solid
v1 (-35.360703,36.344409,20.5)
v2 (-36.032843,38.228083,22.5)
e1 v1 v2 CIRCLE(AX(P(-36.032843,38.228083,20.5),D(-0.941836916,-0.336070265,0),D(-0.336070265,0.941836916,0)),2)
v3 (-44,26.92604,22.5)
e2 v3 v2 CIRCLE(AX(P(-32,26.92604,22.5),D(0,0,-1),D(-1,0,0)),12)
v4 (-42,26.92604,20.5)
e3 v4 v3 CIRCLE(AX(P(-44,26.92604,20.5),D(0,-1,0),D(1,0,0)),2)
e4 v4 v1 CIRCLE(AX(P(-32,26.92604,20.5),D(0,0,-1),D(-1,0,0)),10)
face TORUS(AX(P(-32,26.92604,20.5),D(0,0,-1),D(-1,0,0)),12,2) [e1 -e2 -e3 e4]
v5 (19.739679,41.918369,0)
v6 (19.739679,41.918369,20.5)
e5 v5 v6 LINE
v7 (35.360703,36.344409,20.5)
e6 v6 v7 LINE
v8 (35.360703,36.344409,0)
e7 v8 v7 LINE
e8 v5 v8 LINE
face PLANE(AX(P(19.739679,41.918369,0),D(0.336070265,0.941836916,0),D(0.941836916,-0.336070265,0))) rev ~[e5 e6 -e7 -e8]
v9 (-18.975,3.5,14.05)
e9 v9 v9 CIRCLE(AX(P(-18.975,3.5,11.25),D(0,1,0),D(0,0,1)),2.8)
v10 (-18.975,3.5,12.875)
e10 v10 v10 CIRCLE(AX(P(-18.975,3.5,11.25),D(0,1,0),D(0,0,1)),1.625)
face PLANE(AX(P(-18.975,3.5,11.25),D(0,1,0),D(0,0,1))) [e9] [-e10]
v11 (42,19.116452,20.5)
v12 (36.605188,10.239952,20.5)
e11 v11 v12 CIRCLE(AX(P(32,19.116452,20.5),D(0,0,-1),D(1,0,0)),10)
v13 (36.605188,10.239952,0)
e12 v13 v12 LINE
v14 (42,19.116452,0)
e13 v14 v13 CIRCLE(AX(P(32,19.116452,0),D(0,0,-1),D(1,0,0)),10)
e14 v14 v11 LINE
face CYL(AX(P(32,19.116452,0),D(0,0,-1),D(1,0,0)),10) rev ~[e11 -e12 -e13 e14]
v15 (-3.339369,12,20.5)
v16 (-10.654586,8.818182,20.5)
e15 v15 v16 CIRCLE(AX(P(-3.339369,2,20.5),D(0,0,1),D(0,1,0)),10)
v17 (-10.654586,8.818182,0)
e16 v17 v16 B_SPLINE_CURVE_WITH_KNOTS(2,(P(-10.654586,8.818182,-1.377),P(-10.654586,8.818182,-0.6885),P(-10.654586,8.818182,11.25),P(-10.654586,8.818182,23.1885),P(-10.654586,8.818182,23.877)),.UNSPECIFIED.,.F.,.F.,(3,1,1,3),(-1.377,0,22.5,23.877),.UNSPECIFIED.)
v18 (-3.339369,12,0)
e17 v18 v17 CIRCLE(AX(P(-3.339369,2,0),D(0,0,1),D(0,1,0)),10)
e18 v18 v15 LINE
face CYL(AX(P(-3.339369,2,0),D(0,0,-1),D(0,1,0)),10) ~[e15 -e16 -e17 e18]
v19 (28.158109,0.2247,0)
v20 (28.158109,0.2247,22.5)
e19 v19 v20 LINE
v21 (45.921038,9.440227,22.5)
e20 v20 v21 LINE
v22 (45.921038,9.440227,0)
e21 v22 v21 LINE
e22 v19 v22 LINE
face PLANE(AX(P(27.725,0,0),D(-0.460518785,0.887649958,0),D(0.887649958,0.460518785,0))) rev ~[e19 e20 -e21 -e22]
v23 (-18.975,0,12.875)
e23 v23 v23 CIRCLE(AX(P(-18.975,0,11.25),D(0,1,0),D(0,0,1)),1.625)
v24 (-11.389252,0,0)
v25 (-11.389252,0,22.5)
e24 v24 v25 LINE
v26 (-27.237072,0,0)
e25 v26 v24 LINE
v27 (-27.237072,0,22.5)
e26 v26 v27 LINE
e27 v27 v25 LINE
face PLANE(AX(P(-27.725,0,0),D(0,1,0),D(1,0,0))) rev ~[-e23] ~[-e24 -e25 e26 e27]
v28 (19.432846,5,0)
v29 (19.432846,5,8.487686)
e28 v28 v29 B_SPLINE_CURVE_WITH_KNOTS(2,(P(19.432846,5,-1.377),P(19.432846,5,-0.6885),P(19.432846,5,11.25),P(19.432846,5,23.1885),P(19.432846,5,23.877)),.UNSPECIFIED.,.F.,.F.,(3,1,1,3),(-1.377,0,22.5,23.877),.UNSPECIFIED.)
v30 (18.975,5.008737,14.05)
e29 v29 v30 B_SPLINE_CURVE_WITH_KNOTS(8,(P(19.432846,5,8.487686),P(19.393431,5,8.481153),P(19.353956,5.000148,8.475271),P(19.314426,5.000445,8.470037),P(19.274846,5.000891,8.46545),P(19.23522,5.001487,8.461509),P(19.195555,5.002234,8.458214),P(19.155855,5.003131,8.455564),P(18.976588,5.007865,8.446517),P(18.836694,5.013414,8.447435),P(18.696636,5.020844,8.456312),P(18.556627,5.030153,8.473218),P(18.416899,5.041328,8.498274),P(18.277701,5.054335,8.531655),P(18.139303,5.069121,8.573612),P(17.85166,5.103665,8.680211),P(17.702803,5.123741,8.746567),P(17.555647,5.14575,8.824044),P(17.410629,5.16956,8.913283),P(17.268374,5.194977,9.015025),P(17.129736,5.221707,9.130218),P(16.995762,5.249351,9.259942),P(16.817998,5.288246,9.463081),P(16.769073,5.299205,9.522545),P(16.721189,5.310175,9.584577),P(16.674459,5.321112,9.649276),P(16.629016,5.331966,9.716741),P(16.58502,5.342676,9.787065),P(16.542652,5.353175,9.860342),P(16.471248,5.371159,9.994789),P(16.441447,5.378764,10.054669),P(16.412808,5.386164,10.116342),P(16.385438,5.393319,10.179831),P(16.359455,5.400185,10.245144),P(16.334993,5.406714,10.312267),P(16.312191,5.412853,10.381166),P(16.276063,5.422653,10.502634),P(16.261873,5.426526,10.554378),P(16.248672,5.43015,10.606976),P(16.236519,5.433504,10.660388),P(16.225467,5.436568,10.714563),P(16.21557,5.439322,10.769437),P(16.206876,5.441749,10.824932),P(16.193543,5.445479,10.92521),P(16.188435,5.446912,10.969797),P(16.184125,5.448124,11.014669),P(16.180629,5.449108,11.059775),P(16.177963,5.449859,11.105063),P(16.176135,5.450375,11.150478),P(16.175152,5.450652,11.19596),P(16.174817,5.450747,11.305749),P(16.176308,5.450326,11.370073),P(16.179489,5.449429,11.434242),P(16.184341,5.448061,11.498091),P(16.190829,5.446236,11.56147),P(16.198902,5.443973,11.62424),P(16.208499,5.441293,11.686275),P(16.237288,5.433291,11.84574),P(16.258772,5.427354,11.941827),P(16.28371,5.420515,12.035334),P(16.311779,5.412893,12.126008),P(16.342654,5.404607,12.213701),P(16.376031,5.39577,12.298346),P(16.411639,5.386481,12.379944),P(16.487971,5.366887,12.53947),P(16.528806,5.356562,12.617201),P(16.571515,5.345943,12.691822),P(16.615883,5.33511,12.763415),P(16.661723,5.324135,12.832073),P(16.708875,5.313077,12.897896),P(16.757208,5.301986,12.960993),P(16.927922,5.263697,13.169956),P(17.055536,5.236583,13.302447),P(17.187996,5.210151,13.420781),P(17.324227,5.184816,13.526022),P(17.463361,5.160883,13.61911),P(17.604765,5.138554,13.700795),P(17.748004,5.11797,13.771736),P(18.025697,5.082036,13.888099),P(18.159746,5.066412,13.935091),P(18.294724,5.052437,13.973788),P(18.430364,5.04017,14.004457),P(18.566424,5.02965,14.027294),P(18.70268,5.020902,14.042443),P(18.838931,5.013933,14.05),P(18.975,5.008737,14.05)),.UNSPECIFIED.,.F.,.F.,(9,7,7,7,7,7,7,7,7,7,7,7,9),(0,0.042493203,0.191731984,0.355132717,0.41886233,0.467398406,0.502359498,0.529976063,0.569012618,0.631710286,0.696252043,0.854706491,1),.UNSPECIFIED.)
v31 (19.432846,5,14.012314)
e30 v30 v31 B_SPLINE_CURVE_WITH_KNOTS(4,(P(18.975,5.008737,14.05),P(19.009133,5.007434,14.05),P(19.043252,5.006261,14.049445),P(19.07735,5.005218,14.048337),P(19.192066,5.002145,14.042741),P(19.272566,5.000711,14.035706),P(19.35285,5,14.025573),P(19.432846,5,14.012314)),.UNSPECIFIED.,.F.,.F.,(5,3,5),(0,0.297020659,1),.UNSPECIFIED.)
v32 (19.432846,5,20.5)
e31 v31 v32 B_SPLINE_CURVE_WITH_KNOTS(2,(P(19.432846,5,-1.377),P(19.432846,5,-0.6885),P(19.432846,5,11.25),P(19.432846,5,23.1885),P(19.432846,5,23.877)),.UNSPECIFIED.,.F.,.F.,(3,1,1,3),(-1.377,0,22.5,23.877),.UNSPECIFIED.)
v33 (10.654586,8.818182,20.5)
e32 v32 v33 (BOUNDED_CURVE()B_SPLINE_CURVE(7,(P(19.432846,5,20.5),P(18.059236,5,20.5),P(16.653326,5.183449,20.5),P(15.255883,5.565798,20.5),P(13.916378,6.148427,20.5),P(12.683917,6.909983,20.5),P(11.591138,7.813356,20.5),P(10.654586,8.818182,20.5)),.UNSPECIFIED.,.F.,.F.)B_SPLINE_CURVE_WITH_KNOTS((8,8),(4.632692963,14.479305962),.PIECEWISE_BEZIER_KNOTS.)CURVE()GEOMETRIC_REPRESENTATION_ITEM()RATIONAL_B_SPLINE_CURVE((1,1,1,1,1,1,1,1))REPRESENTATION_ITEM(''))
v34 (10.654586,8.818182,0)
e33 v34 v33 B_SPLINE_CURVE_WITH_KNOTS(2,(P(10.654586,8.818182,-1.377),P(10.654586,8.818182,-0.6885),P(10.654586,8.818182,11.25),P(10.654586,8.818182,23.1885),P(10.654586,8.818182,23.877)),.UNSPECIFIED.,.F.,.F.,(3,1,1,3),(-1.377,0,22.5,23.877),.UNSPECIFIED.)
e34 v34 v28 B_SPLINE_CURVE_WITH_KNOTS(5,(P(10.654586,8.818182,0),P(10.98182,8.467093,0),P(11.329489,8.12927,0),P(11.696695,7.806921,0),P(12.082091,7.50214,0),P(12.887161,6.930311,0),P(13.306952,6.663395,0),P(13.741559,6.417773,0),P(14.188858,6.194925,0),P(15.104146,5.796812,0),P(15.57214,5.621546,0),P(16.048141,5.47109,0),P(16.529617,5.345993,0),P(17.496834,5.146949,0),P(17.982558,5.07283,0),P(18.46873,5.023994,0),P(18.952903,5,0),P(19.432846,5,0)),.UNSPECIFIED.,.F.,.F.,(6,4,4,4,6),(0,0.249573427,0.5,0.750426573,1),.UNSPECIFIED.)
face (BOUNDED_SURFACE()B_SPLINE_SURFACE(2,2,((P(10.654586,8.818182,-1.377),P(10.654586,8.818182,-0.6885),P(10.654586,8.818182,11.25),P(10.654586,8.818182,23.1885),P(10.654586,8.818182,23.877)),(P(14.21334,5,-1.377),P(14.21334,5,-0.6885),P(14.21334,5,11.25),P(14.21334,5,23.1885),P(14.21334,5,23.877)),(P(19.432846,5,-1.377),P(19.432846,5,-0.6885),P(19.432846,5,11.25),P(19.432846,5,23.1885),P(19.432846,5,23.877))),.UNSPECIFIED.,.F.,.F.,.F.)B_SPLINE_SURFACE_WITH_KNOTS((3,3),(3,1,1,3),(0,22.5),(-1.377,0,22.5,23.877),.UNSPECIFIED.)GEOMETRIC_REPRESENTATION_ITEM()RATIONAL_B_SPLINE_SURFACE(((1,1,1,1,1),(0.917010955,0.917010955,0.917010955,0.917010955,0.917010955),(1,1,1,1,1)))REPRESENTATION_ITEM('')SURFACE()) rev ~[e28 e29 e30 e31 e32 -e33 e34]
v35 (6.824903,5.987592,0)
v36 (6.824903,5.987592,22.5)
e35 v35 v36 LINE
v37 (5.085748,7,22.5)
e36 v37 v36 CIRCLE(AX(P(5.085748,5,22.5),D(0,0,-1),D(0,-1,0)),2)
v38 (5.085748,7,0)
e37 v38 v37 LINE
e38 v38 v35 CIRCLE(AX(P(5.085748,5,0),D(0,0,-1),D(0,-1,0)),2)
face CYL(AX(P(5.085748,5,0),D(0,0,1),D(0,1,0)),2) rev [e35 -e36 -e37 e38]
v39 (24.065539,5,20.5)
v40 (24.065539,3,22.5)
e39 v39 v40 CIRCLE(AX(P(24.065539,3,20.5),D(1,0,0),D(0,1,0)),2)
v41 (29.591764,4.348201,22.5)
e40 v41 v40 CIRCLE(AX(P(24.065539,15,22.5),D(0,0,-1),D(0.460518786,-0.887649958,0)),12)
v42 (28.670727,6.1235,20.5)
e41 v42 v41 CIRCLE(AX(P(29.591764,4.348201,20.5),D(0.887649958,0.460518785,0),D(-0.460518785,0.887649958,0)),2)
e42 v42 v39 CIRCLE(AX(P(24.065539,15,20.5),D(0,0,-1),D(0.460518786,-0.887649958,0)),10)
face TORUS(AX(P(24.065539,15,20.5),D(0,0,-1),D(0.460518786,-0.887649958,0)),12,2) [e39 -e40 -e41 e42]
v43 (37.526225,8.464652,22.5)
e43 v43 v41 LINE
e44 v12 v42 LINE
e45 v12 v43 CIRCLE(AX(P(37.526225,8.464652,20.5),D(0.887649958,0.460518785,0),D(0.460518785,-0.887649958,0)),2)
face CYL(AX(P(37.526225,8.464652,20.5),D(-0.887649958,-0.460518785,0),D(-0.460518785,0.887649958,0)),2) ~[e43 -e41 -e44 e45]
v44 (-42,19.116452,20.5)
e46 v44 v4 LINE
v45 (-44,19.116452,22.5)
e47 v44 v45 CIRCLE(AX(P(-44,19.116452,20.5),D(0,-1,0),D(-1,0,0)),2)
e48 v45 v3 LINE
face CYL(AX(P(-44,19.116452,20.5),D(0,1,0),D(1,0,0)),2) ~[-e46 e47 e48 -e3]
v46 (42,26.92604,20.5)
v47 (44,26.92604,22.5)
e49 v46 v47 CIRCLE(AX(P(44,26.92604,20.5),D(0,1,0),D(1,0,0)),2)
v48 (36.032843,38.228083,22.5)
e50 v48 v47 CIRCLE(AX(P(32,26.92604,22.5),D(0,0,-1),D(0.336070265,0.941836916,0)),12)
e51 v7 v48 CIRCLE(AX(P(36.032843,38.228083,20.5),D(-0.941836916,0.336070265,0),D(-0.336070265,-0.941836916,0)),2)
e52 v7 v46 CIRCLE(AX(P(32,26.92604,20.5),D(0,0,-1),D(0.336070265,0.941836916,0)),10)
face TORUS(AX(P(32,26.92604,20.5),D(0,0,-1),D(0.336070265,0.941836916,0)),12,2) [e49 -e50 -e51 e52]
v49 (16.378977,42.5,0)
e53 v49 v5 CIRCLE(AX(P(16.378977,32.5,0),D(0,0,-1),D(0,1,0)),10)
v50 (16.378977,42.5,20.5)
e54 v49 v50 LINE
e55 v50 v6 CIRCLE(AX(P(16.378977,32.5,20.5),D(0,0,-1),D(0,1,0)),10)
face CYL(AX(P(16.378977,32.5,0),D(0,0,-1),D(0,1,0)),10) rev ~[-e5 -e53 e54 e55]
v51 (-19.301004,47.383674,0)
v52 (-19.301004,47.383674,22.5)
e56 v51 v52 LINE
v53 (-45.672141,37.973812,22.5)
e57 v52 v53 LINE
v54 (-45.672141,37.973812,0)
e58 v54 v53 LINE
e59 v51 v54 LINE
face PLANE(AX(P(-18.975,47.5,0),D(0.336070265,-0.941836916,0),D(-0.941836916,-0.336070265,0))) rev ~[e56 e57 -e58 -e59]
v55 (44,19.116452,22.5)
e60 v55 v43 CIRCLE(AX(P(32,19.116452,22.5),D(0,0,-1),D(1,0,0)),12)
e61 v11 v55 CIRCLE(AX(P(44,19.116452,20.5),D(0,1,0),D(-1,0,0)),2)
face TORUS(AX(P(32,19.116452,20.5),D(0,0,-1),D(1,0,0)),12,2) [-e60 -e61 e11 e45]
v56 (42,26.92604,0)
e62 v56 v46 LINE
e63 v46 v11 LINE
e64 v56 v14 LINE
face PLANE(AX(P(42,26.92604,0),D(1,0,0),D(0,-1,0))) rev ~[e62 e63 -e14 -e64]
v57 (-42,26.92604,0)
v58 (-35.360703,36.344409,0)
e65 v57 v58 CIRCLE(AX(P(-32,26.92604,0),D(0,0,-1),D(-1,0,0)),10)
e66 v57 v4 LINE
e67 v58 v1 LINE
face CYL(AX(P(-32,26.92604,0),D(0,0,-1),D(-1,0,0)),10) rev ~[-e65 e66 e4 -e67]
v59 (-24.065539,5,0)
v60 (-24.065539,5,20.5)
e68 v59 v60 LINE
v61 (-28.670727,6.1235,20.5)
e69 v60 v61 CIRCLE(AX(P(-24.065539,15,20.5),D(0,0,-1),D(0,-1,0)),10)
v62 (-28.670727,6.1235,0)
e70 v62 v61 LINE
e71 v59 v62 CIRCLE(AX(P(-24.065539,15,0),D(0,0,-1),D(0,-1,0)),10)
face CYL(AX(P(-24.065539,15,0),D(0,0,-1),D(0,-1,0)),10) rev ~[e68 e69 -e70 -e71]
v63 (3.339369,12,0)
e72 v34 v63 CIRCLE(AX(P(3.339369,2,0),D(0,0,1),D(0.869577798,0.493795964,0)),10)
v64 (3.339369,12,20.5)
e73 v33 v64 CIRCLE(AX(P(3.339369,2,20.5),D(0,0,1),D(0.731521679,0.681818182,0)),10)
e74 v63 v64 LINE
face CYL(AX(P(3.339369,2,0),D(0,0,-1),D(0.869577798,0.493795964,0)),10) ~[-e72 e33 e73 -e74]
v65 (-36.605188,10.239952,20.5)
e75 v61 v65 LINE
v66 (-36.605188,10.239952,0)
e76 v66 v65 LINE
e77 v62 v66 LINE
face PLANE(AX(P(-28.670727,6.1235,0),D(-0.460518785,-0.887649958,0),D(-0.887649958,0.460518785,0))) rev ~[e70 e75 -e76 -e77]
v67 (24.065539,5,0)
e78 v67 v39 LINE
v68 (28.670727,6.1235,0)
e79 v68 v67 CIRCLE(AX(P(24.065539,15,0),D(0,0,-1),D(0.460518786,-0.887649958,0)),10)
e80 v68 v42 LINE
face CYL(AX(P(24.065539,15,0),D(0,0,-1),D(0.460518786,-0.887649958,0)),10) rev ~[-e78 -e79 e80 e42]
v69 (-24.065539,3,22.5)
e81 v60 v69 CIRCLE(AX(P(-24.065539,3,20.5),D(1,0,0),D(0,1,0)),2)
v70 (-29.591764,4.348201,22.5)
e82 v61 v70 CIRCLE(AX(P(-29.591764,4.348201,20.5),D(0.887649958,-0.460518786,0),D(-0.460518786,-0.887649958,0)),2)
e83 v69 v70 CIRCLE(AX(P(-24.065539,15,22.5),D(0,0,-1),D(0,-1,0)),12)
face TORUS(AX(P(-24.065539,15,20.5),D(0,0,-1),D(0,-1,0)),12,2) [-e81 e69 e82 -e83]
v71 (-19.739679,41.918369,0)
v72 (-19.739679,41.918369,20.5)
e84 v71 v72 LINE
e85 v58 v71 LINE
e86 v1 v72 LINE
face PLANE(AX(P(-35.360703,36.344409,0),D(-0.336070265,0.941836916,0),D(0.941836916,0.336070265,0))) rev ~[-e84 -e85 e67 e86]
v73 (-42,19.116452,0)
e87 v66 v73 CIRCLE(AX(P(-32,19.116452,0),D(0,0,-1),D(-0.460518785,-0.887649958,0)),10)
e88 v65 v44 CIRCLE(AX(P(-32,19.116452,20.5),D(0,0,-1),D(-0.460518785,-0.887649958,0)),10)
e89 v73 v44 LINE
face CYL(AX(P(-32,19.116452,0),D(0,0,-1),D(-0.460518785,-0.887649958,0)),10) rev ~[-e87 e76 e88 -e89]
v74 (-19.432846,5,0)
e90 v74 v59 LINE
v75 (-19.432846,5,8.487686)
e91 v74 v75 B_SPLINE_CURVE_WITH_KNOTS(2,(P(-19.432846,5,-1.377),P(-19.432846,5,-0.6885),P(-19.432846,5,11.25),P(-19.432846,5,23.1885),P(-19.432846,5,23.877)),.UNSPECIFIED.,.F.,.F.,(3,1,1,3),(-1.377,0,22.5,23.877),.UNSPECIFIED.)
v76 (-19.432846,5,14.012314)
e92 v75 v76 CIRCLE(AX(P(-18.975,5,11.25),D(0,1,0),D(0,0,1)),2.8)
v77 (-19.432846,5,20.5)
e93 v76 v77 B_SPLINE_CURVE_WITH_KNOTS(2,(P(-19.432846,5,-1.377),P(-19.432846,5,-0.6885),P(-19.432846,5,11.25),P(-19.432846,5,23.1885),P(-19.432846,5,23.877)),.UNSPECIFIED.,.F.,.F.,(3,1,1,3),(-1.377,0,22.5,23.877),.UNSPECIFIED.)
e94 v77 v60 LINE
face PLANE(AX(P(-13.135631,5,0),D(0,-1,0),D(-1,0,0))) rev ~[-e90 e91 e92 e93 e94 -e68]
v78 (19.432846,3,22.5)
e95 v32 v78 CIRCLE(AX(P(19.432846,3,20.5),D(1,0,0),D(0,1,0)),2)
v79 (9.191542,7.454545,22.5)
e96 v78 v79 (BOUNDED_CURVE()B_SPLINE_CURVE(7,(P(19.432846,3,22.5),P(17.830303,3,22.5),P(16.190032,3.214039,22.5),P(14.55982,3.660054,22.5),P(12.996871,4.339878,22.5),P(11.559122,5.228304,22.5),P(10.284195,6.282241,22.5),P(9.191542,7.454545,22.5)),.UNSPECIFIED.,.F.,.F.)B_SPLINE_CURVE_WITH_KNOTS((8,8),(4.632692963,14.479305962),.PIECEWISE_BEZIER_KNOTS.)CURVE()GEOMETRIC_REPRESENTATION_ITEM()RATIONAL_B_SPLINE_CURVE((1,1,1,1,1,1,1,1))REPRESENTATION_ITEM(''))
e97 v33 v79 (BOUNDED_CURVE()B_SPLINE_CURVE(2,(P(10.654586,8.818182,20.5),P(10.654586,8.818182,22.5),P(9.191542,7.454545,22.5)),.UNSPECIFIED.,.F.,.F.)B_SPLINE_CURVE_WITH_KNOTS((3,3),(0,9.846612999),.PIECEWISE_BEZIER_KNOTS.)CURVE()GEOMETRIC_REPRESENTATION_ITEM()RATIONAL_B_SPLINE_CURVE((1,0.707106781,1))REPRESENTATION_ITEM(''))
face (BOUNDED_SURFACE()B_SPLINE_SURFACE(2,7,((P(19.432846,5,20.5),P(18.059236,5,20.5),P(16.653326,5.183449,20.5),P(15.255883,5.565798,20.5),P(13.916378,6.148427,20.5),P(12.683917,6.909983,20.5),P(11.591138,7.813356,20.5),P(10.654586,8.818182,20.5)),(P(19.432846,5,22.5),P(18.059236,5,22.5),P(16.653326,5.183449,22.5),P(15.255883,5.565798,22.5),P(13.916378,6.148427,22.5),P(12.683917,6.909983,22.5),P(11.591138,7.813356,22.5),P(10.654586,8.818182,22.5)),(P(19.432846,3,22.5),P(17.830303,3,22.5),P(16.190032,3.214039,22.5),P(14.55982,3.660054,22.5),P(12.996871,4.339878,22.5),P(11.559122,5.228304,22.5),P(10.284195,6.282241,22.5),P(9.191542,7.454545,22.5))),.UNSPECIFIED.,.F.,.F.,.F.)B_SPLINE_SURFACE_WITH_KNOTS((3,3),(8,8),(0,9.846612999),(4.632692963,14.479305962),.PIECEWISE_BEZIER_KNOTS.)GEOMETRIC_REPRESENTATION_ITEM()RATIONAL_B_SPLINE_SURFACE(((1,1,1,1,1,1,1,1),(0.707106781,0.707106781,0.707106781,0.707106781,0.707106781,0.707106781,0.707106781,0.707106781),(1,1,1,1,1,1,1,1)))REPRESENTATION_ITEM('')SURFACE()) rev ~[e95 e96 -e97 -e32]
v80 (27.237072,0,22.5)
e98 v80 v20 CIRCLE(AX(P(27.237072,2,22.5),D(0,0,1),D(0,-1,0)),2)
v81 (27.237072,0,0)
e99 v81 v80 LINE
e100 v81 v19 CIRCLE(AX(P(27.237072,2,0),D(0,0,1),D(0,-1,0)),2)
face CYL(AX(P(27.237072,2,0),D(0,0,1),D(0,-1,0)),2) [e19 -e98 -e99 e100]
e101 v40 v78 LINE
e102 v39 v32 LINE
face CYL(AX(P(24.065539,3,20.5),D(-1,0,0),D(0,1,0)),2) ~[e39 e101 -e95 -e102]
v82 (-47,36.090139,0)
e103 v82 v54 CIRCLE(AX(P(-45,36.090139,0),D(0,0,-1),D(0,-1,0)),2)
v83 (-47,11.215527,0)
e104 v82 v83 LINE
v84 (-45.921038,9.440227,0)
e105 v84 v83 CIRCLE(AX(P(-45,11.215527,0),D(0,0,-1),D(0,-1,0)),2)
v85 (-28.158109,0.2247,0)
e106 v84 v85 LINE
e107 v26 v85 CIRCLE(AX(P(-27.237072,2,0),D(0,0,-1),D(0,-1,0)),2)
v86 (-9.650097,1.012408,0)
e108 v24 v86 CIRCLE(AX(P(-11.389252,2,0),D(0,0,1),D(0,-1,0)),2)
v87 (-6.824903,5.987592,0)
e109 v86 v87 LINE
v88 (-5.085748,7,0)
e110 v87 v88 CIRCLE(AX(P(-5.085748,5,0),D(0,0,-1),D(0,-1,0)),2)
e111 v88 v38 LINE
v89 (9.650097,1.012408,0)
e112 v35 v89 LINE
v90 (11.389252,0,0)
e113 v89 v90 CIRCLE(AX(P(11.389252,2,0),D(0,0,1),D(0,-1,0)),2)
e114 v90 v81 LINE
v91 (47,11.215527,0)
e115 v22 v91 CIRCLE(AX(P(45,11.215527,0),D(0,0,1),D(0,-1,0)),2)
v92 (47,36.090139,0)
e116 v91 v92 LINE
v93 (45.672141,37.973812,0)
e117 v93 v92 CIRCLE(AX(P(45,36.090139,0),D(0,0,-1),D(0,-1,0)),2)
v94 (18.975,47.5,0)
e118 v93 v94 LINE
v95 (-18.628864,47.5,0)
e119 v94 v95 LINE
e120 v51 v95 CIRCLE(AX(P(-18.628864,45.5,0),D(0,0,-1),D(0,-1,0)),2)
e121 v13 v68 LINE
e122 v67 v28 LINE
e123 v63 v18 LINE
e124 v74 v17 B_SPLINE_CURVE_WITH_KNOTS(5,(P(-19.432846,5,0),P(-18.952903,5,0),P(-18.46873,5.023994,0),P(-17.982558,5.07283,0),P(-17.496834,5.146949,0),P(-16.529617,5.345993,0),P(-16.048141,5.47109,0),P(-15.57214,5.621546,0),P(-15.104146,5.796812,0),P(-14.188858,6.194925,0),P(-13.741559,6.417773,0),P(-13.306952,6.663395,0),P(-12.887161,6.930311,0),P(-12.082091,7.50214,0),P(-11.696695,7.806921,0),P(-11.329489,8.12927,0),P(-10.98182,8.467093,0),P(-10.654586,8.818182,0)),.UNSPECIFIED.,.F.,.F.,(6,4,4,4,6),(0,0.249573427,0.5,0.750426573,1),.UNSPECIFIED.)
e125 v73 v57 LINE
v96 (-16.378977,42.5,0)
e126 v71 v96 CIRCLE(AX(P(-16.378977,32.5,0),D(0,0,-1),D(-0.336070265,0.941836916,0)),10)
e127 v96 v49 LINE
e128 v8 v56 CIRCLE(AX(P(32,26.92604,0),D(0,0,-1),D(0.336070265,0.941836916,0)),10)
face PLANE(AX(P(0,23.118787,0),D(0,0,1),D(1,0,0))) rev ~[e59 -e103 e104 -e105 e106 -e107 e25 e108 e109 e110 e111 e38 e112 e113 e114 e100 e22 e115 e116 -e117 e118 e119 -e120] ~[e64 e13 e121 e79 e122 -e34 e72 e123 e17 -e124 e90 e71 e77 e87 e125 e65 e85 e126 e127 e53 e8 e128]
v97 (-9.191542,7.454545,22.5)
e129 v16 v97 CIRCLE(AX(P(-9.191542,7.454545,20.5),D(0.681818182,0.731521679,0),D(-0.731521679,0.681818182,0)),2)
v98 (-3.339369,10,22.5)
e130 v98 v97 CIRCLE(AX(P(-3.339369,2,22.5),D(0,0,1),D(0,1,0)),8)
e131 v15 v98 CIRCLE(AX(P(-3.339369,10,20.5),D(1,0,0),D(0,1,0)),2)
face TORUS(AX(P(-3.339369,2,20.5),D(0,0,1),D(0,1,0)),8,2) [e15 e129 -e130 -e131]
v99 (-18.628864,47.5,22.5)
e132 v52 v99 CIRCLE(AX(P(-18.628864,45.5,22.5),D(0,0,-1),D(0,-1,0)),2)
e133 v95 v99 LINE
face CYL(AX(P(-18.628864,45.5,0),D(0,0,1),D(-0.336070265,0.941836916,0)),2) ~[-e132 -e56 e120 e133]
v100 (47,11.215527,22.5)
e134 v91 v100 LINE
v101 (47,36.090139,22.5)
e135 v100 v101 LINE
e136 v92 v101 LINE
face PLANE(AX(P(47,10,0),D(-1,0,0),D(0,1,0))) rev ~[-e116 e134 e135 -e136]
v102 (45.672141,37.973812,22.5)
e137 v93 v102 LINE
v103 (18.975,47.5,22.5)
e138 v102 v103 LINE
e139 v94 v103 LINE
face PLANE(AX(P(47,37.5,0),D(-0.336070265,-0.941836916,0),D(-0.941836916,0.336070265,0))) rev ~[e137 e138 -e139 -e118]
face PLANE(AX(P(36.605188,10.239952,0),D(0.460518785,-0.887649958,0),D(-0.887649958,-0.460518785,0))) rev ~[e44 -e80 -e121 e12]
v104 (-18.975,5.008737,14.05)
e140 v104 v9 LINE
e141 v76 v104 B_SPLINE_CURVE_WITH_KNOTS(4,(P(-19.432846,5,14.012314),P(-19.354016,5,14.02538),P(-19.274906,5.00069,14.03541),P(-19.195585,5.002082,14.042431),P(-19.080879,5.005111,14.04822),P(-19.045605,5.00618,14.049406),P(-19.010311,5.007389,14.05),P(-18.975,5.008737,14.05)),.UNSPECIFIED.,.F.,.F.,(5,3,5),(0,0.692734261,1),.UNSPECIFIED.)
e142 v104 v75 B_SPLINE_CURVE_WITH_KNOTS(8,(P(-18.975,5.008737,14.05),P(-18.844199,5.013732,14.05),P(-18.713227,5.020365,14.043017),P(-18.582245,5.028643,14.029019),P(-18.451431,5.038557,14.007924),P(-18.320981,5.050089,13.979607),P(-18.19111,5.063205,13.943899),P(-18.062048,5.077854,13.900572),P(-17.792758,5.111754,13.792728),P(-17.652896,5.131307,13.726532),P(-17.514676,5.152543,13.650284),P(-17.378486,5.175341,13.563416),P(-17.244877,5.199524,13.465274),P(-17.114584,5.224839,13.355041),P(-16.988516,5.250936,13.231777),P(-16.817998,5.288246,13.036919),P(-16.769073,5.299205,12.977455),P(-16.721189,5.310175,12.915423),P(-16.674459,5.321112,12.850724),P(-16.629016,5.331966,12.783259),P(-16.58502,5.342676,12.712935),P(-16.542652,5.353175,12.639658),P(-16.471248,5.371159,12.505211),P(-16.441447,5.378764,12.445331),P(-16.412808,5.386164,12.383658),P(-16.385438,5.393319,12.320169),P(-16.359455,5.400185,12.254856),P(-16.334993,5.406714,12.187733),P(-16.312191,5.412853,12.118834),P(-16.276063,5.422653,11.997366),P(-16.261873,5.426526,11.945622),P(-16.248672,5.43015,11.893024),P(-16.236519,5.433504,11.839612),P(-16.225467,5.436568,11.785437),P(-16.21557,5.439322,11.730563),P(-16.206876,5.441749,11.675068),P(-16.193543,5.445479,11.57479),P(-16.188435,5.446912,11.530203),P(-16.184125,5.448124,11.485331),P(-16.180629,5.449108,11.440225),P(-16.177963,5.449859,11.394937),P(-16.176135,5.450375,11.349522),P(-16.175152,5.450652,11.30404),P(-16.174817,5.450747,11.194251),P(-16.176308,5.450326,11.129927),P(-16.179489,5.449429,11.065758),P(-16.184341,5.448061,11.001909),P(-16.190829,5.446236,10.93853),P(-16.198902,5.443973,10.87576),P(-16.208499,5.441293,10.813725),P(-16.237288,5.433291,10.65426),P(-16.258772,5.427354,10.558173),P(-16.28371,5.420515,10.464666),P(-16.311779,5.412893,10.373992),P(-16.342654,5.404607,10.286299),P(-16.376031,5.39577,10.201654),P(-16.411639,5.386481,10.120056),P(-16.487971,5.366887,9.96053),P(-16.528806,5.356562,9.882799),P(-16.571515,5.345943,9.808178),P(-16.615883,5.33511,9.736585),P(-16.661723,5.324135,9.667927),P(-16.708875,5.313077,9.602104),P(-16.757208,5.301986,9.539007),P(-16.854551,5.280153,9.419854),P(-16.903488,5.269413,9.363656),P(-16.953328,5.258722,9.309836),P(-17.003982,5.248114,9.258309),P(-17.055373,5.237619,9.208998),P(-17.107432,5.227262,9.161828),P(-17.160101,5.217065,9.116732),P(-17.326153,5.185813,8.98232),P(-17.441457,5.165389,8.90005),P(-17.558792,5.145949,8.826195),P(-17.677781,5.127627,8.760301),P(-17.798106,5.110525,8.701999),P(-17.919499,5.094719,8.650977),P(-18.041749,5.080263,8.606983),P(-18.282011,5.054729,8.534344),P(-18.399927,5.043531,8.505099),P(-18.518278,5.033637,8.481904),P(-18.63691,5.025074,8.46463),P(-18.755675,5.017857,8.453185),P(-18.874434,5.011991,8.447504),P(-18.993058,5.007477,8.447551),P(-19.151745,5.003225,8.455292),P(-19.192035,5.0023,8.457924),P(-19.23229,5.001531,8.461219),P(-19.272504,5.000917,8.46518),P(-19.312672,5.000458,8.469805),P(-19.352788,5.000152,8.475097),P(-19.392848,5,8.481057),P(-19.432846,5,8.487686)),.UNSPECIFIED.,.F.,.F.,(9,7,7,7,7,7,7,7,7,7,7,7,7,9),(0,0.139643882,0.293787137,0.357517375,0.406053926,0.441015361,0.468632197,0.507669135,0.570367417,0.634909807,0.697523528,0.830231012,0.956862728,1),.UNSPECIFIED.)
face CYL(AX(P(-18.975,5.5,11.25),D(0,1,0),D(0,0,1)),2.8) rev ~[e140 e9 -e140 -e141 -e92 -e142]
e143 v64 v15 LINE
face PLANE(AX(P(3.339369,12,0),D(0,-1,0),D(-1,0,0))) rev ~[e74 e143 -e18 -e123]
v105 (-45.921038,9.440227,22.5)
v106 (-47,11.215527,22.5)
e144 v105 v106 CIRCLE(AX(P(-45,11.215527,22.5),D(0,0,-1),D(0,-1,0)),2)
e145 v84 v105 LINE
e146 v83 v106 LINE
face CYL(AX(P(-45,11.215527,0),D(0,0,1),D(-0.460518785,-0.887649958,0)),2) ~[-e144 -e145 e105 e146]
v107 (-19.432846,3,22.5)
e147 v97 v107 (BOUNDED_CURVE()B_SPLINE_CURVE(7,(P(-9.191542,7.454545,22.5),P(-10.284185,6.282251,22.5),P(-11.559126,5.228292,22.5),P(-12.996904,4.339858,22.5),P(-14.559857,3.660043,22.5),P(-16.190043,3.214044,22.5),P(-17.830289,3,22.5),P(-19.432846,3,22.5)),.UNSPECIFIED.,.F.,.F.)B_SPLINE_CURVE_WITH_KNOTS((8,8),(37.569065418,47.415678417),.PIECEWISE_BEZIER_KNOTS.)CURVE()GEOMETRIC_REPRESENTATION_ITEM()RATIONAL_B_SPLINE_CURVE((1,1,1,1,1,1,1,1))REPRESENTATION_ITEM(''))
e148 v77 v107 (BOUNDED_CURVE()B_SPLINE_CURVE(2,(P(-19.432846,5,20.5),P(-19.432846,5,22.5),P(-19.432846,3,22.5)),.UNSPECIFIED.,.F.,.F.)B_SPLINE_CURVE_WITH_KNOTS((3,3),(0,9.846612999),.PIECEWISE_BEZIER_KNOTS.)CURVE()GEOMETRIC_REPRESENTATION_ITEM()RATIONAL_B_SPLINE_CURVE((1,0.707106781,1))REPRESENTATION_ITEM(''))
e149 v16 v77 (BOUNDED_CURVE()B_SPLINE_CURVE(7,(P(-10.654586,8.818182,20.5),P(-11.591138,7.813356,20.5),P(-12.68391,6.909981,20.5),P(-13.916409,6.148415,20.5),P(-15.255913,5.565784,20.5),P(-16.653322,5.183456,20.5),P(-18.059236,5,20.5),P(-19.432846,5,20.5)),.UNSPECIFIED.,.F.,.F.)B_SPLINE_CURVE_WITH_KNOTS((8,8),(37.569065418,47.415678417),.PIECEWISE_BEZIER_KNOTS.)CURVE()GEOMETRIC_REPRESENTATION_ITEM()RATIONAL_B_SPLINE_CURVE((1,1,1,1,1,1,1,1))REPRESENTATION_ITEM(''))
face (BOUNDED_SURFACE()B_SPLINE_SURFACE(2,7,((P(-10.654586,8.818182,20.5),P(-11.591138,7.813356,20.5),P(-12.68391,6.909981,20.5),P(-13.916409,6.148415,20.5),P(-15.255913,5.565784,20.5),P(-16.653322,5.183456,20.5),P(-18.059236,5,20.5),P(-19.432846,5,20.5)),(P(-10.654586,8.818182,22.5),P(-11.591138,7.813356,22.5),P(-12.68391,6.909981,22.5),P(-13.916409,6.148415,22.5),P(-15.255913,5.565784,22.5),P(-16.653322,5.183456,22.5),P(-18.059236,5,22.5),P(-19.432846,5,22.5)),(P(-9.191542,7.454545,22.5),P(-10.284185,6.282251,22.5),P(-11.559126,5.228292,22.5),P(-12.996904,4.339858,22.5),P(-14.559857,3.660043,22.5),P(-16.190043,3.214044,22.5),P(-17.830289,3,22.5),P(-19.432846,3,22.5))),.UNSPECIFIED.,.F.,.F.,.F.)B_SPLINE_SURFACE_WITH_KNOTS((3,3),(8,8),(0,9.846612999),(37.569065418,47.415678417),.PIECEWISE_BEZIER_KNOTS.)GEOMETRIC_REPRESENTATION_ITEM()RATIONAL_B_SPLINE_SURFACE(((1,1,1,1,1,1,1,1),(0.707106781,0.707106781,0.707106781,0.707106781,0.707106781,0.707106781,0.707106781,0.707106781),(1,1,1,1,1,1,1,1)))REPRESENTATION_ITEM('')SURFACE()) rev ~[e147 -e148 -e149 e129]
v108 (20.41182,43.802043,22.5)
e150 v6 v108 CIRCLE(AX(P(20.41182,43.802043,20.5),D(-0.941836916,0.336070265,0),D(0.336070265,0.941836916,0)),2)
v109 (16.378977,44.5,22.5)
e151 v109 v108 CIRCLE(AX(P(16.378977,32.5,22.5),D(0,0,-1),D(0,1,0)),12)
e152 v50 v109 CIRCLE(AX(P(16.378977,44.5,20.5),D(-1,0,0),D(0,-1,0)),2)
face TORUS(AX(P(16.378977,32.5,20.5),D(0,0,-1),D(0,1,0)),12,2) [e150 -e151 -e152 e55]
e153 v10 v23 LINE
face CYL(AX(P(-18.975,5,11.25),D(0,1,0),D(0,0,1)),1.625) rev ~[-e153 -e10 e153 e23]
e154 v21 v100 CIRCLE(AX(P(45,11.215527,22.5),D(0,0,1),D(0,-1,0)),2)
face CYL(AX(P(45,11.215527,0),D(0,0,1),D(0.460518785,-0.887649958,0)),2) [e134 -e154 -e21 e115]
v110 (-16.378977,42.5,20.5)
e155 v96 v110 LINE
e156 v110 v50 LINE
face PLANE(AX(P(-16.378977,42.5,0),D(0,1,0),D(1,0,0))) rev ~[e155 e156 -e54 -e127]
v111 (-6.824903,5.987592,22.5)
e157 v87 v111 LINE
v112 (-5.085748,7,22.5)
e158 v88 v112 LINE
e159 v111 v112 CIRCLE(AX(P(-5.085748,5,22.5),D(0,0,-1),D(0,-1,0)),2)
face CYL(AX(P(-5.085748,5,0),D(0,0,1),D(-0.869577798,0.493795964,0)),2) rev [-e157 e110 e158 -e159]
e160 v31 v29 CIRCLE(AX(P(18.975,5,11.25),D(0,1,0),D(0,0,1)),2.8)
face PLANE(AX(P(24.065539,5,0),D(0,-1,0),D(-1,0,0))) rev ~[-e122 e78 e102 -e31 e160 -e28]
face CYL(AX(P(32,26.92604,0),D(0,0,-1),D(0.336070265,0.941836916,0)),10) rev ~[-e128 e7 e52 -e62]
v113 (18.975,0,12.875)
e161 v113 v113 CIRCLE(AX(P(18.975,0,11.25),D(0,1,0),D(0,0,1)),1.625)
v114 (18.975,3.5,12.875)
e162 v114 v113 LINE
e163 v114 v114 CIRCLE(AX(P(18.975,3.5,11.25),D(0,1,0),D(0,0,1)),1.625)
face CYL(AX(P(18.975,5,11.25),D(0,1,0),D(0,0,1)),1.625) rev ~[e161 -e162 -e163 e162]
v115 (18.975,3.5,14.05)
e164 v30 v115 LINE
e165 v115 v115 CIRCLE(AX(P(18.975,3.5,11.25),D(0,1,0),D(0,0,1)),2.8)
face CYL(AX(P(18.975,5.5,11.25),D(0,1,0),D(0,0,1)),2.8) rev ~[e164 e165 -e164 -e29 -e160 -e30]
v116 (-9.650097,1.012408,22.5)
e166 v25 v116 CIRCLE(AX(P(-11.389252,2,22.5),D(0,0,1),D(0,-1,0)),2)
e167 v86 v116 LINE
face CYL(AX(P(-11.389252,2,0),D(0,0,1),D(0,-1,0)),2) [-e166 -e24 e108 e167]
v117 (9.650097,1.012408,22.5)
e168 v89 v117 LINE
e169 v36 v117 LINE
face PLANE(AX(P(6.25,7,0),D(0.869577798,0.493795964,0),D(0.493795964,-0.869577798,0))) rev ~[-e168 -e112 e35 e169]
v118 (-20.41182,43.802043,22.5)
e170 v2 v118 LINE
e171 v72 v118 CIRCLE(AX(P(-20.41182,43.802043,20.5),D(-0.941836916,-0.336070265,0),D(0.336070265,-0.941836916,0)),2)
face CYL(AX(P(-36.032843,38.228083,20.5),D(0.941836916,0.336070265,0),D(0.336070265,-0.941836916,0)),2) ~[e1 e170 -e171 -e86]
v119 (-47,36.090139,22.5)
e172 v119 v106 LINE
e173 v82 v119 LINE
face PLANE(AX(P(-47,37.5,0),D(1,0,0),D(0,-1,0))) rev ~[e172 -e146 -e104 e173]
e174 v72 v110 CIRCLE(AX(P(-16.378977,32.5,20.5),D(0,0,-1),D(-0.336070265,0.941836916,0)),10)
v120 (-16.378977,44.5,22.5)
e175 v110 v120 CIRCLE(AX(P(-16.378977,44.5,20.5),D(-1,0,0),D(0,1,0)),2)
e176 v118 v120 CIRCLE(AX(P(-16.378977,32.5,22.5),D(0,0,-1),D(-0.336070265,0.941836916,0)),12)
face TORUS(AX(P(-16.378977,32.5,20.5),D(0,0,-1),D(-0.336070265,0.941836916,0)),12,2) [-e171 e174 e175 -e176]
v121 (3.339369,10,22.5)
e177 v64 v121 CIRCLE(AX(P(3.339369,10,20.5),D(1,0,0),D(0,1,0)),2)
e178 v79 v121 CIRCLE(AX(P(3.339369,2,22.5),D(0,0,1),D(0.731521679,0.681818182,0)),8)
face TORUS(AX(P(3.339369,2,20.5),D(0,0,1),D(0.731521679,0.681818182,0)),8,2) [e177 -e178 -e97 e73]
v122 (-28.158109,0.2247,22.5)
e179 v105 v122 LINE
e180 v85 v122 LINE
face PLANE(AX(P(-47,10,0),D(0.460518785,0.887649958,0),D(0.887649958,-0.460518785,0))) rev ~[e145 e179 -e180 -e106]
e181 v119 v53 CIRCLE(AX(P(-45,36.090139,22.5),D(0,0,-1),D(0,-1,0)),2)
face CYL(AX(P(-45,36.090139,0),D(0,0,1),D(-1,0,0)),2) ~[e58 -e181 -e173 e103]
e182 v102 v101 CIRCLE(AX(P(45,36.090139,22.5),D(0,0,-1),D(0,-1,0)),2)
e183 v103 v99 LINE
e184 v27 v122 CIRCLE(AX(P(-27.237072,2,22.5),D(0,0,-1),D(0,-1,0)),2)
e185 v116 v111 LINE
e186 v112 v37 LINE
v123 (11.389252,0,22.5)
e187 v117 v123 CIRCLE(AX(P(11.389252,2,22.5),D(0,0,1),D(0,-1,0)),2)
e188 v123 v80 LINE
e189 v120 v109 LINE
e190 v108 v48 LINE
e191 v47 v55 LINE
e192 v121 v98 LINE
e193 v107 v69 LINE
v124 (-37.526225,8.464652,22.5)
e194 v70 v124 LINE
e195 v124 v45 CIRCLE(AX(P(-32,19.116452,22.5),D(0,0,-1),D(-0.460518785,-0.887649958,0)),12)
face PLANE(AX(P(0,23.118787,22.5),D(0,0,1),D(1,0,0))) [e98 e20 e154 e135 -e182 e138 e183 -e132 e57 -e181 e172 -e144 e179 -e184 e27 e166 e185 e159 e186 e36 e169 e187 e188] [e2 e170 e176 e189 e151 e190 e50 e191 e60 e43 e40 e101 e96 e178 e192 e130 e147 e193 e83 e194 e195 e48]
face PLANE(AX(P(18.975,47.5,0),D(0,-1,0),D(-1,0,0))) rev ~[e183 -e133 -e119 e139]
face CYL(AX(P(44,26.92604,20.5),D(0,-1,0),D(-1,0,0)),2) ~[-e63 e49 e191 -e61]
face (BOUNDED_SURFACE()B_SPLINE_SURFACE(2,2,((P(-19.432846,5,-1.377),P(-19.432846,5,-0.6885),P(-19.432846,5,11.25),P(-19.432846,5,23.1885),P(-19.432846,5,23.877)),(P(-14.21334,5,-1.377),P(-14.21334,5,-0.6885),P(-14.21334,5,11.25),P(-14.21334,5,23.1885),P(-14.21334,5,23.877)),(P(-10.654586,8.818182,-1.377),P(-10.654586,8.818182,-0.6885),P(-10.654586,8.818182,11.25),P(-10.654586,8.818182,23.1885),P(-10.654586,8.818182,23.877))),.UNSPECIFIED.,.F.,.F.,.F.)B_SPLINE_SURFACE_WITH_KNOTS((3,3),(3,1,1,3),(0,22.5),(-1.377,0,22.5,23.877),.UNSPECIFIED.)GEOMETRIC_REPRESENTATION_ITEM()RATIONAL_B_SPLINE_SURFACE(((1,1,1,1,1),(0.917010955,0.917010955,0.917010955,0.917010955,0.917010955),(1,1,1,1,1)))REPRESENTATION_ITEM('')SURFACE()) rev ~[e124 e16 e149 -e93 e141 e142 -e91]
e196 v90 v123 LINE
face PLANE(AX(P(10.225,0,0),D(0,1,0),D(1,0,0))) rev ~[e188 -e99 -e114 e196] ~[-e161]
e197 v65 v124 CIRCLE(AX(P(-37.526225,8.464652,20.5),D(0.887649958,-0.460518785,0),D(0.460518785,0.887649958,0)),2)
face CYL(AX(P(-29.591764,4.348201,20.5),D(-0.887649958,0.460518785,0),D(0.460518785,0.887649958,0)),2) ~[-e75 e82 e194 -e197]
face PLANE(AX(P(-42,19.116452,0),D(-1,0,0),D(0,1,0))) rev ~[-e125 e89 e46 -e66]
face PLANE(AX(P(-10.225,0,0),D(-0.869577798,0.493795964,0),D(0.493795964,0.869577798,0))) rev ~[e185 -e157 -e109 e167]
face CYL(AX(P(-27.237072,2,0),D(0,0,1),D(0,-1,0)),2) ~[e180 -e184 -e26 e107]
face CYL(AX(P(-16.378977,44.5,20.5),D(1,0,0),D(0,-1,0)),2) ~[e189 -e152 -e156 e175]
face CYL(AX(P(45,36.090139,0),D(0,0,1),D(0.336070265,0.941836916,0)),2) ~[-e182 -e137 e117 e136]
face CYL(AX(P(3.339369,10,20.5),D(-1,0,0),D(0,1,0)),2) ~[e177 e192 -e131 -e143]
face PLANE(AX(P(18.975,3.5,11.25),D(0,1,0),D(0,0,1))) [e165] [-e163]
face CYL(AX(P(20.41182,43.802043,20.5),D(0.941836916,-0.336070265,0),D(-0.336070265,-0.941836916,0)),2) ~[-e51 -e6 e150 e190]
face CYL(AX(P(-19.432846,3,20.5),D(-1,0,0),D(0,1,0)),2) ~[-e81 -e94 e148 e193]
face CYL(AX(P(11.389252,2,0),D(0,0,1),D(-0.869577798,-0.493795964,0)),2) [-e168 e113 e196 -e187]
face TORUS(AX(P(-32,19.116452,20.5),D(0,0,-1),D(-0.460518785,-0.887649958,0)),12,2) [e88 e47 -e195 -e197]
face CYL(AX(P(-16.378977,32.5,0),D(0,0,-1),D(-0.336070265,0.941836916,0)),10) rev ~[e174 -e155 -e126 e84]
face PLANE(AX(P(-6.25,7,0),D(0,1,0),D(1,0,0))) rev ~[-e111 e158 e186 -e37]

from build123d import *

# Parameters (mm, degrees)
BOSS_EXTRUDE1_DEPTH = 22.5
FILLET1_R           = 12
CUT_EXTRUDE1_START  = 5.5
SCREW_MOUNT_R       = 2.8
SCREW_MOUNT_R_2     = 1.625
CUT_EXTRUDE1_DEPTH  = 2
CUT_EXTRUDE2_START  = 5
SCREW_MOUNT_3_R     = 1.625
CUT_EXTRUDE2_DEPTH  = 76.508864857
FILLET3_R           = 2
FILLET4_R           = 2


with BuildPart() as part:
    # Base → Boss-Extrude1 (new body)
    with BuildSketch(Plane.XY):
        Polygon((-27.725, 0), (-10.225, 0), (-6.25, 7), (6.25, 7), (10.225, 0), (27.725, 0), (47, 10), (47, 37.5), (18.975, 47.5), (-18.975, 47.5), (-47, 37.5), (-47, 10), align=None)
        with BuildLine():
            Line((-28.670726654, 6.123500417), (-36.605187851, 10.2399524))
            ThreePointArc((-36.605187851, 10.2399524), (-40.545521591, 13.922796166), (-42, 19.116451983))
            Line((-42, 19.116451983), (-42, 26.926039841))
            ThreePointArc((-42, 26.926039841), (-40.17334162, 32.687679084), (-35.360702646, 36.344409006))
            Line((-35.360702646, 36.344409006), (-19.7396793, 41.918369165))
            ThreePointArc((-19.7396793, 41.918369165), (-18.084307759, 42.353519464), (-16.378976654, 42.5))
            Line((-16.378976654, 42.5), (16.378976654, 42.5))
            ThreePointArc((16.378976654, 42.5), (18.084307759, 42.353519464), (19.7396793, 41.918369165))
            Line((19.7396793, 41.918369165), (35.360702646, 36.344409006))
            ThreePointArc((35.360702646, 36.344409006), (40.17334162, 32.687679084), (42, 26.926039841))
            Line((42, 26.926039841), (42, 19.116451983))
            ThreePointArc((42, 19.116451983), (40.545521591, 13.922796166), (36.605187851, 10.2399524))
            Line((36.605187851, 10.2399524), (28.670726654, 6.123500417))
            ThreePointArc((28.670726654, 6.123500417), (26.435665821, 5.284934487), (24.065538803, 5))
            Line((24.065538803, 5), (13.1356311, 5))
            Line((13.1356311, 5), (12.035146877, 6.937959637))
            ThreePointArc((12.035146877, 6.937959637), (8.370293449, 10.642325971), (3.3393689, 12))
            Line((3.3393689, 12), (-3.3393689, 12))
            ThreePointArc((-3.3393689, 12), (-8.370293449, 10.642325971), (-12.035146877, 6.937959637))
            Line((-12.035146877, 6.937959637), (-13.1356311, 5))
            Line((-13.1356311, 5), (-24.065538803, 5))
            ThreePointArc((-24.065538803, 5), (-26.435665821, 5.284934487), (-28.670726654, 6.123500417))
        make_face(mode=Mode.SUBTRACT)
    extrude(amount=BOSS_EXTRUDE1_DEPTH)

    # Fillet1
    fillet1_edges = [part.edges().sort_by_distance(p)[0] for p in [
        (13.1356311, 5, 11.25),
        (-13.1356311, 5, 11.25),
    ]]
    fillet(fillet1_edges, radius=FILLET1_R)

    # Screw_Mount → Cut-Extrude1 (cut)
    with BuildSketch(Plane(origin=(0, 0, 0), x_dir=(1, 0, 0), z_dir=(0, 1, 0)).offset(CUT_EXTRUDE1_START)):
        with Locations(Location((-18.975, -11.25, 0), (0, 0, 270))):
            Circle(SCREW_MOUNT_R)
        with Locations((-18.975, -11.25)):
            Circle(SCREW_MOUNT_R_2, mode=Mode.SUBTRACT)
        with Locations((-18.975, -11.25)):
            Circle(SCREW_MOUNT_R_2)
        with Locations(Location((18.975, -11.25, 0), (0, 0, 270))):
            Circle(SCREW_MOUNT_R)
        with Locations((18.975, -11.25)):
            Circle(SCREW_MOUNT_R_2, mode=Mode.SUBTRACT)
        with Locations((18.975, -11.25)):
            Circle(SCREW_MOUNT_R_2)
    extrude(amount=-CUT_EXTRUDE1_DEPTH, mode=Mode.SUBTRACT)

    # Screw_Mount<3> → Cut-Extrude2 (cut, through all)
    with BuildSketch(Plane(origin=(0, 0, 0), x_dir=(1, 0, 0), z_dir=(0, 1, 0)).offset(CUT_EXTRUDE2_START)):
        with Locations(Location((-18.975, -11.25, 0), (0, 0, 270))):
            Circle(SCREW_MOUNT_3_R)
        with Locations(Location((18.975, -11.25, 0), (0, 0, 270))):
            Circle(SCREW_MOUNT_3_R)
    extrude(amount=-CUT_EXTRUDE2_DEPTH, mode=Mode.SUBTRACT)

    # Fillet3
    fillet3_edges = [part.edges().sort_by_distance(p)[0] for p in [
        (-47, 10, 11.25),
        (-47, 37.5, 11.25),
        (-18.975, 47.5, 11.25),
        (47, 37.5, 11.25),
        (47, 10, 11.25),
        (27.725, 0, 11.25),
        (10.225, 0, 11.25),
        (6.25, 7, 11.25),
        (-6.25, 7, 11.25),
        (-10.225, 0, 11.25),
        (-27.725, 0, 11.25),
    ]]
    fillet(fillet3_edges, radius=FILLET3_R)

    # Fillet4
    fillet4_edges = [part.edges().sort_by_distance(p)[0] for p in [
        (21.749192321, 5, 22.5),
        (-7.327989076, 11.170109546, 22.5),
        (14.646501628, 5.995868544, 22.5),
        (-14.646501628, 5.995868544, 22.5),
        (26.435665821, 5.284934487, 22.5),
        (32.637957253, 8.181726408, 22.5),
        (40.545521591, 13.922796166, 22.5),
        (42, 23.021245912, 22.5),
        (40.17334162, 32.687679084, 22.5),
        (27.550190973, 39.131389085, 22.5),
        (18.084307759, 42.353519464, 22.5),
        (0, 42.5, 22.5),
        (-18.084307759, 42.353519464, 22.5),
        (-27.550190973, 39.131389085, 22.5),
        (-40.17334162, 32.687679084, 22.5),
        (-42, 23.021245912, 22.5),
        (-40.545521591, 13.922796166, 22.5),
        (-32.637957253, 8.181726408, 22.5),
        (-26.435665821, 5.284934487, 22.5),
        (-21.749192321, 5, 22.5),
        (0, 12, 22.5),
        (7.327989076, 11.170109546, 22.5),
    ]]
    fillet(fillet4_edges, radius=FILLET4_R)


solid = part.part
